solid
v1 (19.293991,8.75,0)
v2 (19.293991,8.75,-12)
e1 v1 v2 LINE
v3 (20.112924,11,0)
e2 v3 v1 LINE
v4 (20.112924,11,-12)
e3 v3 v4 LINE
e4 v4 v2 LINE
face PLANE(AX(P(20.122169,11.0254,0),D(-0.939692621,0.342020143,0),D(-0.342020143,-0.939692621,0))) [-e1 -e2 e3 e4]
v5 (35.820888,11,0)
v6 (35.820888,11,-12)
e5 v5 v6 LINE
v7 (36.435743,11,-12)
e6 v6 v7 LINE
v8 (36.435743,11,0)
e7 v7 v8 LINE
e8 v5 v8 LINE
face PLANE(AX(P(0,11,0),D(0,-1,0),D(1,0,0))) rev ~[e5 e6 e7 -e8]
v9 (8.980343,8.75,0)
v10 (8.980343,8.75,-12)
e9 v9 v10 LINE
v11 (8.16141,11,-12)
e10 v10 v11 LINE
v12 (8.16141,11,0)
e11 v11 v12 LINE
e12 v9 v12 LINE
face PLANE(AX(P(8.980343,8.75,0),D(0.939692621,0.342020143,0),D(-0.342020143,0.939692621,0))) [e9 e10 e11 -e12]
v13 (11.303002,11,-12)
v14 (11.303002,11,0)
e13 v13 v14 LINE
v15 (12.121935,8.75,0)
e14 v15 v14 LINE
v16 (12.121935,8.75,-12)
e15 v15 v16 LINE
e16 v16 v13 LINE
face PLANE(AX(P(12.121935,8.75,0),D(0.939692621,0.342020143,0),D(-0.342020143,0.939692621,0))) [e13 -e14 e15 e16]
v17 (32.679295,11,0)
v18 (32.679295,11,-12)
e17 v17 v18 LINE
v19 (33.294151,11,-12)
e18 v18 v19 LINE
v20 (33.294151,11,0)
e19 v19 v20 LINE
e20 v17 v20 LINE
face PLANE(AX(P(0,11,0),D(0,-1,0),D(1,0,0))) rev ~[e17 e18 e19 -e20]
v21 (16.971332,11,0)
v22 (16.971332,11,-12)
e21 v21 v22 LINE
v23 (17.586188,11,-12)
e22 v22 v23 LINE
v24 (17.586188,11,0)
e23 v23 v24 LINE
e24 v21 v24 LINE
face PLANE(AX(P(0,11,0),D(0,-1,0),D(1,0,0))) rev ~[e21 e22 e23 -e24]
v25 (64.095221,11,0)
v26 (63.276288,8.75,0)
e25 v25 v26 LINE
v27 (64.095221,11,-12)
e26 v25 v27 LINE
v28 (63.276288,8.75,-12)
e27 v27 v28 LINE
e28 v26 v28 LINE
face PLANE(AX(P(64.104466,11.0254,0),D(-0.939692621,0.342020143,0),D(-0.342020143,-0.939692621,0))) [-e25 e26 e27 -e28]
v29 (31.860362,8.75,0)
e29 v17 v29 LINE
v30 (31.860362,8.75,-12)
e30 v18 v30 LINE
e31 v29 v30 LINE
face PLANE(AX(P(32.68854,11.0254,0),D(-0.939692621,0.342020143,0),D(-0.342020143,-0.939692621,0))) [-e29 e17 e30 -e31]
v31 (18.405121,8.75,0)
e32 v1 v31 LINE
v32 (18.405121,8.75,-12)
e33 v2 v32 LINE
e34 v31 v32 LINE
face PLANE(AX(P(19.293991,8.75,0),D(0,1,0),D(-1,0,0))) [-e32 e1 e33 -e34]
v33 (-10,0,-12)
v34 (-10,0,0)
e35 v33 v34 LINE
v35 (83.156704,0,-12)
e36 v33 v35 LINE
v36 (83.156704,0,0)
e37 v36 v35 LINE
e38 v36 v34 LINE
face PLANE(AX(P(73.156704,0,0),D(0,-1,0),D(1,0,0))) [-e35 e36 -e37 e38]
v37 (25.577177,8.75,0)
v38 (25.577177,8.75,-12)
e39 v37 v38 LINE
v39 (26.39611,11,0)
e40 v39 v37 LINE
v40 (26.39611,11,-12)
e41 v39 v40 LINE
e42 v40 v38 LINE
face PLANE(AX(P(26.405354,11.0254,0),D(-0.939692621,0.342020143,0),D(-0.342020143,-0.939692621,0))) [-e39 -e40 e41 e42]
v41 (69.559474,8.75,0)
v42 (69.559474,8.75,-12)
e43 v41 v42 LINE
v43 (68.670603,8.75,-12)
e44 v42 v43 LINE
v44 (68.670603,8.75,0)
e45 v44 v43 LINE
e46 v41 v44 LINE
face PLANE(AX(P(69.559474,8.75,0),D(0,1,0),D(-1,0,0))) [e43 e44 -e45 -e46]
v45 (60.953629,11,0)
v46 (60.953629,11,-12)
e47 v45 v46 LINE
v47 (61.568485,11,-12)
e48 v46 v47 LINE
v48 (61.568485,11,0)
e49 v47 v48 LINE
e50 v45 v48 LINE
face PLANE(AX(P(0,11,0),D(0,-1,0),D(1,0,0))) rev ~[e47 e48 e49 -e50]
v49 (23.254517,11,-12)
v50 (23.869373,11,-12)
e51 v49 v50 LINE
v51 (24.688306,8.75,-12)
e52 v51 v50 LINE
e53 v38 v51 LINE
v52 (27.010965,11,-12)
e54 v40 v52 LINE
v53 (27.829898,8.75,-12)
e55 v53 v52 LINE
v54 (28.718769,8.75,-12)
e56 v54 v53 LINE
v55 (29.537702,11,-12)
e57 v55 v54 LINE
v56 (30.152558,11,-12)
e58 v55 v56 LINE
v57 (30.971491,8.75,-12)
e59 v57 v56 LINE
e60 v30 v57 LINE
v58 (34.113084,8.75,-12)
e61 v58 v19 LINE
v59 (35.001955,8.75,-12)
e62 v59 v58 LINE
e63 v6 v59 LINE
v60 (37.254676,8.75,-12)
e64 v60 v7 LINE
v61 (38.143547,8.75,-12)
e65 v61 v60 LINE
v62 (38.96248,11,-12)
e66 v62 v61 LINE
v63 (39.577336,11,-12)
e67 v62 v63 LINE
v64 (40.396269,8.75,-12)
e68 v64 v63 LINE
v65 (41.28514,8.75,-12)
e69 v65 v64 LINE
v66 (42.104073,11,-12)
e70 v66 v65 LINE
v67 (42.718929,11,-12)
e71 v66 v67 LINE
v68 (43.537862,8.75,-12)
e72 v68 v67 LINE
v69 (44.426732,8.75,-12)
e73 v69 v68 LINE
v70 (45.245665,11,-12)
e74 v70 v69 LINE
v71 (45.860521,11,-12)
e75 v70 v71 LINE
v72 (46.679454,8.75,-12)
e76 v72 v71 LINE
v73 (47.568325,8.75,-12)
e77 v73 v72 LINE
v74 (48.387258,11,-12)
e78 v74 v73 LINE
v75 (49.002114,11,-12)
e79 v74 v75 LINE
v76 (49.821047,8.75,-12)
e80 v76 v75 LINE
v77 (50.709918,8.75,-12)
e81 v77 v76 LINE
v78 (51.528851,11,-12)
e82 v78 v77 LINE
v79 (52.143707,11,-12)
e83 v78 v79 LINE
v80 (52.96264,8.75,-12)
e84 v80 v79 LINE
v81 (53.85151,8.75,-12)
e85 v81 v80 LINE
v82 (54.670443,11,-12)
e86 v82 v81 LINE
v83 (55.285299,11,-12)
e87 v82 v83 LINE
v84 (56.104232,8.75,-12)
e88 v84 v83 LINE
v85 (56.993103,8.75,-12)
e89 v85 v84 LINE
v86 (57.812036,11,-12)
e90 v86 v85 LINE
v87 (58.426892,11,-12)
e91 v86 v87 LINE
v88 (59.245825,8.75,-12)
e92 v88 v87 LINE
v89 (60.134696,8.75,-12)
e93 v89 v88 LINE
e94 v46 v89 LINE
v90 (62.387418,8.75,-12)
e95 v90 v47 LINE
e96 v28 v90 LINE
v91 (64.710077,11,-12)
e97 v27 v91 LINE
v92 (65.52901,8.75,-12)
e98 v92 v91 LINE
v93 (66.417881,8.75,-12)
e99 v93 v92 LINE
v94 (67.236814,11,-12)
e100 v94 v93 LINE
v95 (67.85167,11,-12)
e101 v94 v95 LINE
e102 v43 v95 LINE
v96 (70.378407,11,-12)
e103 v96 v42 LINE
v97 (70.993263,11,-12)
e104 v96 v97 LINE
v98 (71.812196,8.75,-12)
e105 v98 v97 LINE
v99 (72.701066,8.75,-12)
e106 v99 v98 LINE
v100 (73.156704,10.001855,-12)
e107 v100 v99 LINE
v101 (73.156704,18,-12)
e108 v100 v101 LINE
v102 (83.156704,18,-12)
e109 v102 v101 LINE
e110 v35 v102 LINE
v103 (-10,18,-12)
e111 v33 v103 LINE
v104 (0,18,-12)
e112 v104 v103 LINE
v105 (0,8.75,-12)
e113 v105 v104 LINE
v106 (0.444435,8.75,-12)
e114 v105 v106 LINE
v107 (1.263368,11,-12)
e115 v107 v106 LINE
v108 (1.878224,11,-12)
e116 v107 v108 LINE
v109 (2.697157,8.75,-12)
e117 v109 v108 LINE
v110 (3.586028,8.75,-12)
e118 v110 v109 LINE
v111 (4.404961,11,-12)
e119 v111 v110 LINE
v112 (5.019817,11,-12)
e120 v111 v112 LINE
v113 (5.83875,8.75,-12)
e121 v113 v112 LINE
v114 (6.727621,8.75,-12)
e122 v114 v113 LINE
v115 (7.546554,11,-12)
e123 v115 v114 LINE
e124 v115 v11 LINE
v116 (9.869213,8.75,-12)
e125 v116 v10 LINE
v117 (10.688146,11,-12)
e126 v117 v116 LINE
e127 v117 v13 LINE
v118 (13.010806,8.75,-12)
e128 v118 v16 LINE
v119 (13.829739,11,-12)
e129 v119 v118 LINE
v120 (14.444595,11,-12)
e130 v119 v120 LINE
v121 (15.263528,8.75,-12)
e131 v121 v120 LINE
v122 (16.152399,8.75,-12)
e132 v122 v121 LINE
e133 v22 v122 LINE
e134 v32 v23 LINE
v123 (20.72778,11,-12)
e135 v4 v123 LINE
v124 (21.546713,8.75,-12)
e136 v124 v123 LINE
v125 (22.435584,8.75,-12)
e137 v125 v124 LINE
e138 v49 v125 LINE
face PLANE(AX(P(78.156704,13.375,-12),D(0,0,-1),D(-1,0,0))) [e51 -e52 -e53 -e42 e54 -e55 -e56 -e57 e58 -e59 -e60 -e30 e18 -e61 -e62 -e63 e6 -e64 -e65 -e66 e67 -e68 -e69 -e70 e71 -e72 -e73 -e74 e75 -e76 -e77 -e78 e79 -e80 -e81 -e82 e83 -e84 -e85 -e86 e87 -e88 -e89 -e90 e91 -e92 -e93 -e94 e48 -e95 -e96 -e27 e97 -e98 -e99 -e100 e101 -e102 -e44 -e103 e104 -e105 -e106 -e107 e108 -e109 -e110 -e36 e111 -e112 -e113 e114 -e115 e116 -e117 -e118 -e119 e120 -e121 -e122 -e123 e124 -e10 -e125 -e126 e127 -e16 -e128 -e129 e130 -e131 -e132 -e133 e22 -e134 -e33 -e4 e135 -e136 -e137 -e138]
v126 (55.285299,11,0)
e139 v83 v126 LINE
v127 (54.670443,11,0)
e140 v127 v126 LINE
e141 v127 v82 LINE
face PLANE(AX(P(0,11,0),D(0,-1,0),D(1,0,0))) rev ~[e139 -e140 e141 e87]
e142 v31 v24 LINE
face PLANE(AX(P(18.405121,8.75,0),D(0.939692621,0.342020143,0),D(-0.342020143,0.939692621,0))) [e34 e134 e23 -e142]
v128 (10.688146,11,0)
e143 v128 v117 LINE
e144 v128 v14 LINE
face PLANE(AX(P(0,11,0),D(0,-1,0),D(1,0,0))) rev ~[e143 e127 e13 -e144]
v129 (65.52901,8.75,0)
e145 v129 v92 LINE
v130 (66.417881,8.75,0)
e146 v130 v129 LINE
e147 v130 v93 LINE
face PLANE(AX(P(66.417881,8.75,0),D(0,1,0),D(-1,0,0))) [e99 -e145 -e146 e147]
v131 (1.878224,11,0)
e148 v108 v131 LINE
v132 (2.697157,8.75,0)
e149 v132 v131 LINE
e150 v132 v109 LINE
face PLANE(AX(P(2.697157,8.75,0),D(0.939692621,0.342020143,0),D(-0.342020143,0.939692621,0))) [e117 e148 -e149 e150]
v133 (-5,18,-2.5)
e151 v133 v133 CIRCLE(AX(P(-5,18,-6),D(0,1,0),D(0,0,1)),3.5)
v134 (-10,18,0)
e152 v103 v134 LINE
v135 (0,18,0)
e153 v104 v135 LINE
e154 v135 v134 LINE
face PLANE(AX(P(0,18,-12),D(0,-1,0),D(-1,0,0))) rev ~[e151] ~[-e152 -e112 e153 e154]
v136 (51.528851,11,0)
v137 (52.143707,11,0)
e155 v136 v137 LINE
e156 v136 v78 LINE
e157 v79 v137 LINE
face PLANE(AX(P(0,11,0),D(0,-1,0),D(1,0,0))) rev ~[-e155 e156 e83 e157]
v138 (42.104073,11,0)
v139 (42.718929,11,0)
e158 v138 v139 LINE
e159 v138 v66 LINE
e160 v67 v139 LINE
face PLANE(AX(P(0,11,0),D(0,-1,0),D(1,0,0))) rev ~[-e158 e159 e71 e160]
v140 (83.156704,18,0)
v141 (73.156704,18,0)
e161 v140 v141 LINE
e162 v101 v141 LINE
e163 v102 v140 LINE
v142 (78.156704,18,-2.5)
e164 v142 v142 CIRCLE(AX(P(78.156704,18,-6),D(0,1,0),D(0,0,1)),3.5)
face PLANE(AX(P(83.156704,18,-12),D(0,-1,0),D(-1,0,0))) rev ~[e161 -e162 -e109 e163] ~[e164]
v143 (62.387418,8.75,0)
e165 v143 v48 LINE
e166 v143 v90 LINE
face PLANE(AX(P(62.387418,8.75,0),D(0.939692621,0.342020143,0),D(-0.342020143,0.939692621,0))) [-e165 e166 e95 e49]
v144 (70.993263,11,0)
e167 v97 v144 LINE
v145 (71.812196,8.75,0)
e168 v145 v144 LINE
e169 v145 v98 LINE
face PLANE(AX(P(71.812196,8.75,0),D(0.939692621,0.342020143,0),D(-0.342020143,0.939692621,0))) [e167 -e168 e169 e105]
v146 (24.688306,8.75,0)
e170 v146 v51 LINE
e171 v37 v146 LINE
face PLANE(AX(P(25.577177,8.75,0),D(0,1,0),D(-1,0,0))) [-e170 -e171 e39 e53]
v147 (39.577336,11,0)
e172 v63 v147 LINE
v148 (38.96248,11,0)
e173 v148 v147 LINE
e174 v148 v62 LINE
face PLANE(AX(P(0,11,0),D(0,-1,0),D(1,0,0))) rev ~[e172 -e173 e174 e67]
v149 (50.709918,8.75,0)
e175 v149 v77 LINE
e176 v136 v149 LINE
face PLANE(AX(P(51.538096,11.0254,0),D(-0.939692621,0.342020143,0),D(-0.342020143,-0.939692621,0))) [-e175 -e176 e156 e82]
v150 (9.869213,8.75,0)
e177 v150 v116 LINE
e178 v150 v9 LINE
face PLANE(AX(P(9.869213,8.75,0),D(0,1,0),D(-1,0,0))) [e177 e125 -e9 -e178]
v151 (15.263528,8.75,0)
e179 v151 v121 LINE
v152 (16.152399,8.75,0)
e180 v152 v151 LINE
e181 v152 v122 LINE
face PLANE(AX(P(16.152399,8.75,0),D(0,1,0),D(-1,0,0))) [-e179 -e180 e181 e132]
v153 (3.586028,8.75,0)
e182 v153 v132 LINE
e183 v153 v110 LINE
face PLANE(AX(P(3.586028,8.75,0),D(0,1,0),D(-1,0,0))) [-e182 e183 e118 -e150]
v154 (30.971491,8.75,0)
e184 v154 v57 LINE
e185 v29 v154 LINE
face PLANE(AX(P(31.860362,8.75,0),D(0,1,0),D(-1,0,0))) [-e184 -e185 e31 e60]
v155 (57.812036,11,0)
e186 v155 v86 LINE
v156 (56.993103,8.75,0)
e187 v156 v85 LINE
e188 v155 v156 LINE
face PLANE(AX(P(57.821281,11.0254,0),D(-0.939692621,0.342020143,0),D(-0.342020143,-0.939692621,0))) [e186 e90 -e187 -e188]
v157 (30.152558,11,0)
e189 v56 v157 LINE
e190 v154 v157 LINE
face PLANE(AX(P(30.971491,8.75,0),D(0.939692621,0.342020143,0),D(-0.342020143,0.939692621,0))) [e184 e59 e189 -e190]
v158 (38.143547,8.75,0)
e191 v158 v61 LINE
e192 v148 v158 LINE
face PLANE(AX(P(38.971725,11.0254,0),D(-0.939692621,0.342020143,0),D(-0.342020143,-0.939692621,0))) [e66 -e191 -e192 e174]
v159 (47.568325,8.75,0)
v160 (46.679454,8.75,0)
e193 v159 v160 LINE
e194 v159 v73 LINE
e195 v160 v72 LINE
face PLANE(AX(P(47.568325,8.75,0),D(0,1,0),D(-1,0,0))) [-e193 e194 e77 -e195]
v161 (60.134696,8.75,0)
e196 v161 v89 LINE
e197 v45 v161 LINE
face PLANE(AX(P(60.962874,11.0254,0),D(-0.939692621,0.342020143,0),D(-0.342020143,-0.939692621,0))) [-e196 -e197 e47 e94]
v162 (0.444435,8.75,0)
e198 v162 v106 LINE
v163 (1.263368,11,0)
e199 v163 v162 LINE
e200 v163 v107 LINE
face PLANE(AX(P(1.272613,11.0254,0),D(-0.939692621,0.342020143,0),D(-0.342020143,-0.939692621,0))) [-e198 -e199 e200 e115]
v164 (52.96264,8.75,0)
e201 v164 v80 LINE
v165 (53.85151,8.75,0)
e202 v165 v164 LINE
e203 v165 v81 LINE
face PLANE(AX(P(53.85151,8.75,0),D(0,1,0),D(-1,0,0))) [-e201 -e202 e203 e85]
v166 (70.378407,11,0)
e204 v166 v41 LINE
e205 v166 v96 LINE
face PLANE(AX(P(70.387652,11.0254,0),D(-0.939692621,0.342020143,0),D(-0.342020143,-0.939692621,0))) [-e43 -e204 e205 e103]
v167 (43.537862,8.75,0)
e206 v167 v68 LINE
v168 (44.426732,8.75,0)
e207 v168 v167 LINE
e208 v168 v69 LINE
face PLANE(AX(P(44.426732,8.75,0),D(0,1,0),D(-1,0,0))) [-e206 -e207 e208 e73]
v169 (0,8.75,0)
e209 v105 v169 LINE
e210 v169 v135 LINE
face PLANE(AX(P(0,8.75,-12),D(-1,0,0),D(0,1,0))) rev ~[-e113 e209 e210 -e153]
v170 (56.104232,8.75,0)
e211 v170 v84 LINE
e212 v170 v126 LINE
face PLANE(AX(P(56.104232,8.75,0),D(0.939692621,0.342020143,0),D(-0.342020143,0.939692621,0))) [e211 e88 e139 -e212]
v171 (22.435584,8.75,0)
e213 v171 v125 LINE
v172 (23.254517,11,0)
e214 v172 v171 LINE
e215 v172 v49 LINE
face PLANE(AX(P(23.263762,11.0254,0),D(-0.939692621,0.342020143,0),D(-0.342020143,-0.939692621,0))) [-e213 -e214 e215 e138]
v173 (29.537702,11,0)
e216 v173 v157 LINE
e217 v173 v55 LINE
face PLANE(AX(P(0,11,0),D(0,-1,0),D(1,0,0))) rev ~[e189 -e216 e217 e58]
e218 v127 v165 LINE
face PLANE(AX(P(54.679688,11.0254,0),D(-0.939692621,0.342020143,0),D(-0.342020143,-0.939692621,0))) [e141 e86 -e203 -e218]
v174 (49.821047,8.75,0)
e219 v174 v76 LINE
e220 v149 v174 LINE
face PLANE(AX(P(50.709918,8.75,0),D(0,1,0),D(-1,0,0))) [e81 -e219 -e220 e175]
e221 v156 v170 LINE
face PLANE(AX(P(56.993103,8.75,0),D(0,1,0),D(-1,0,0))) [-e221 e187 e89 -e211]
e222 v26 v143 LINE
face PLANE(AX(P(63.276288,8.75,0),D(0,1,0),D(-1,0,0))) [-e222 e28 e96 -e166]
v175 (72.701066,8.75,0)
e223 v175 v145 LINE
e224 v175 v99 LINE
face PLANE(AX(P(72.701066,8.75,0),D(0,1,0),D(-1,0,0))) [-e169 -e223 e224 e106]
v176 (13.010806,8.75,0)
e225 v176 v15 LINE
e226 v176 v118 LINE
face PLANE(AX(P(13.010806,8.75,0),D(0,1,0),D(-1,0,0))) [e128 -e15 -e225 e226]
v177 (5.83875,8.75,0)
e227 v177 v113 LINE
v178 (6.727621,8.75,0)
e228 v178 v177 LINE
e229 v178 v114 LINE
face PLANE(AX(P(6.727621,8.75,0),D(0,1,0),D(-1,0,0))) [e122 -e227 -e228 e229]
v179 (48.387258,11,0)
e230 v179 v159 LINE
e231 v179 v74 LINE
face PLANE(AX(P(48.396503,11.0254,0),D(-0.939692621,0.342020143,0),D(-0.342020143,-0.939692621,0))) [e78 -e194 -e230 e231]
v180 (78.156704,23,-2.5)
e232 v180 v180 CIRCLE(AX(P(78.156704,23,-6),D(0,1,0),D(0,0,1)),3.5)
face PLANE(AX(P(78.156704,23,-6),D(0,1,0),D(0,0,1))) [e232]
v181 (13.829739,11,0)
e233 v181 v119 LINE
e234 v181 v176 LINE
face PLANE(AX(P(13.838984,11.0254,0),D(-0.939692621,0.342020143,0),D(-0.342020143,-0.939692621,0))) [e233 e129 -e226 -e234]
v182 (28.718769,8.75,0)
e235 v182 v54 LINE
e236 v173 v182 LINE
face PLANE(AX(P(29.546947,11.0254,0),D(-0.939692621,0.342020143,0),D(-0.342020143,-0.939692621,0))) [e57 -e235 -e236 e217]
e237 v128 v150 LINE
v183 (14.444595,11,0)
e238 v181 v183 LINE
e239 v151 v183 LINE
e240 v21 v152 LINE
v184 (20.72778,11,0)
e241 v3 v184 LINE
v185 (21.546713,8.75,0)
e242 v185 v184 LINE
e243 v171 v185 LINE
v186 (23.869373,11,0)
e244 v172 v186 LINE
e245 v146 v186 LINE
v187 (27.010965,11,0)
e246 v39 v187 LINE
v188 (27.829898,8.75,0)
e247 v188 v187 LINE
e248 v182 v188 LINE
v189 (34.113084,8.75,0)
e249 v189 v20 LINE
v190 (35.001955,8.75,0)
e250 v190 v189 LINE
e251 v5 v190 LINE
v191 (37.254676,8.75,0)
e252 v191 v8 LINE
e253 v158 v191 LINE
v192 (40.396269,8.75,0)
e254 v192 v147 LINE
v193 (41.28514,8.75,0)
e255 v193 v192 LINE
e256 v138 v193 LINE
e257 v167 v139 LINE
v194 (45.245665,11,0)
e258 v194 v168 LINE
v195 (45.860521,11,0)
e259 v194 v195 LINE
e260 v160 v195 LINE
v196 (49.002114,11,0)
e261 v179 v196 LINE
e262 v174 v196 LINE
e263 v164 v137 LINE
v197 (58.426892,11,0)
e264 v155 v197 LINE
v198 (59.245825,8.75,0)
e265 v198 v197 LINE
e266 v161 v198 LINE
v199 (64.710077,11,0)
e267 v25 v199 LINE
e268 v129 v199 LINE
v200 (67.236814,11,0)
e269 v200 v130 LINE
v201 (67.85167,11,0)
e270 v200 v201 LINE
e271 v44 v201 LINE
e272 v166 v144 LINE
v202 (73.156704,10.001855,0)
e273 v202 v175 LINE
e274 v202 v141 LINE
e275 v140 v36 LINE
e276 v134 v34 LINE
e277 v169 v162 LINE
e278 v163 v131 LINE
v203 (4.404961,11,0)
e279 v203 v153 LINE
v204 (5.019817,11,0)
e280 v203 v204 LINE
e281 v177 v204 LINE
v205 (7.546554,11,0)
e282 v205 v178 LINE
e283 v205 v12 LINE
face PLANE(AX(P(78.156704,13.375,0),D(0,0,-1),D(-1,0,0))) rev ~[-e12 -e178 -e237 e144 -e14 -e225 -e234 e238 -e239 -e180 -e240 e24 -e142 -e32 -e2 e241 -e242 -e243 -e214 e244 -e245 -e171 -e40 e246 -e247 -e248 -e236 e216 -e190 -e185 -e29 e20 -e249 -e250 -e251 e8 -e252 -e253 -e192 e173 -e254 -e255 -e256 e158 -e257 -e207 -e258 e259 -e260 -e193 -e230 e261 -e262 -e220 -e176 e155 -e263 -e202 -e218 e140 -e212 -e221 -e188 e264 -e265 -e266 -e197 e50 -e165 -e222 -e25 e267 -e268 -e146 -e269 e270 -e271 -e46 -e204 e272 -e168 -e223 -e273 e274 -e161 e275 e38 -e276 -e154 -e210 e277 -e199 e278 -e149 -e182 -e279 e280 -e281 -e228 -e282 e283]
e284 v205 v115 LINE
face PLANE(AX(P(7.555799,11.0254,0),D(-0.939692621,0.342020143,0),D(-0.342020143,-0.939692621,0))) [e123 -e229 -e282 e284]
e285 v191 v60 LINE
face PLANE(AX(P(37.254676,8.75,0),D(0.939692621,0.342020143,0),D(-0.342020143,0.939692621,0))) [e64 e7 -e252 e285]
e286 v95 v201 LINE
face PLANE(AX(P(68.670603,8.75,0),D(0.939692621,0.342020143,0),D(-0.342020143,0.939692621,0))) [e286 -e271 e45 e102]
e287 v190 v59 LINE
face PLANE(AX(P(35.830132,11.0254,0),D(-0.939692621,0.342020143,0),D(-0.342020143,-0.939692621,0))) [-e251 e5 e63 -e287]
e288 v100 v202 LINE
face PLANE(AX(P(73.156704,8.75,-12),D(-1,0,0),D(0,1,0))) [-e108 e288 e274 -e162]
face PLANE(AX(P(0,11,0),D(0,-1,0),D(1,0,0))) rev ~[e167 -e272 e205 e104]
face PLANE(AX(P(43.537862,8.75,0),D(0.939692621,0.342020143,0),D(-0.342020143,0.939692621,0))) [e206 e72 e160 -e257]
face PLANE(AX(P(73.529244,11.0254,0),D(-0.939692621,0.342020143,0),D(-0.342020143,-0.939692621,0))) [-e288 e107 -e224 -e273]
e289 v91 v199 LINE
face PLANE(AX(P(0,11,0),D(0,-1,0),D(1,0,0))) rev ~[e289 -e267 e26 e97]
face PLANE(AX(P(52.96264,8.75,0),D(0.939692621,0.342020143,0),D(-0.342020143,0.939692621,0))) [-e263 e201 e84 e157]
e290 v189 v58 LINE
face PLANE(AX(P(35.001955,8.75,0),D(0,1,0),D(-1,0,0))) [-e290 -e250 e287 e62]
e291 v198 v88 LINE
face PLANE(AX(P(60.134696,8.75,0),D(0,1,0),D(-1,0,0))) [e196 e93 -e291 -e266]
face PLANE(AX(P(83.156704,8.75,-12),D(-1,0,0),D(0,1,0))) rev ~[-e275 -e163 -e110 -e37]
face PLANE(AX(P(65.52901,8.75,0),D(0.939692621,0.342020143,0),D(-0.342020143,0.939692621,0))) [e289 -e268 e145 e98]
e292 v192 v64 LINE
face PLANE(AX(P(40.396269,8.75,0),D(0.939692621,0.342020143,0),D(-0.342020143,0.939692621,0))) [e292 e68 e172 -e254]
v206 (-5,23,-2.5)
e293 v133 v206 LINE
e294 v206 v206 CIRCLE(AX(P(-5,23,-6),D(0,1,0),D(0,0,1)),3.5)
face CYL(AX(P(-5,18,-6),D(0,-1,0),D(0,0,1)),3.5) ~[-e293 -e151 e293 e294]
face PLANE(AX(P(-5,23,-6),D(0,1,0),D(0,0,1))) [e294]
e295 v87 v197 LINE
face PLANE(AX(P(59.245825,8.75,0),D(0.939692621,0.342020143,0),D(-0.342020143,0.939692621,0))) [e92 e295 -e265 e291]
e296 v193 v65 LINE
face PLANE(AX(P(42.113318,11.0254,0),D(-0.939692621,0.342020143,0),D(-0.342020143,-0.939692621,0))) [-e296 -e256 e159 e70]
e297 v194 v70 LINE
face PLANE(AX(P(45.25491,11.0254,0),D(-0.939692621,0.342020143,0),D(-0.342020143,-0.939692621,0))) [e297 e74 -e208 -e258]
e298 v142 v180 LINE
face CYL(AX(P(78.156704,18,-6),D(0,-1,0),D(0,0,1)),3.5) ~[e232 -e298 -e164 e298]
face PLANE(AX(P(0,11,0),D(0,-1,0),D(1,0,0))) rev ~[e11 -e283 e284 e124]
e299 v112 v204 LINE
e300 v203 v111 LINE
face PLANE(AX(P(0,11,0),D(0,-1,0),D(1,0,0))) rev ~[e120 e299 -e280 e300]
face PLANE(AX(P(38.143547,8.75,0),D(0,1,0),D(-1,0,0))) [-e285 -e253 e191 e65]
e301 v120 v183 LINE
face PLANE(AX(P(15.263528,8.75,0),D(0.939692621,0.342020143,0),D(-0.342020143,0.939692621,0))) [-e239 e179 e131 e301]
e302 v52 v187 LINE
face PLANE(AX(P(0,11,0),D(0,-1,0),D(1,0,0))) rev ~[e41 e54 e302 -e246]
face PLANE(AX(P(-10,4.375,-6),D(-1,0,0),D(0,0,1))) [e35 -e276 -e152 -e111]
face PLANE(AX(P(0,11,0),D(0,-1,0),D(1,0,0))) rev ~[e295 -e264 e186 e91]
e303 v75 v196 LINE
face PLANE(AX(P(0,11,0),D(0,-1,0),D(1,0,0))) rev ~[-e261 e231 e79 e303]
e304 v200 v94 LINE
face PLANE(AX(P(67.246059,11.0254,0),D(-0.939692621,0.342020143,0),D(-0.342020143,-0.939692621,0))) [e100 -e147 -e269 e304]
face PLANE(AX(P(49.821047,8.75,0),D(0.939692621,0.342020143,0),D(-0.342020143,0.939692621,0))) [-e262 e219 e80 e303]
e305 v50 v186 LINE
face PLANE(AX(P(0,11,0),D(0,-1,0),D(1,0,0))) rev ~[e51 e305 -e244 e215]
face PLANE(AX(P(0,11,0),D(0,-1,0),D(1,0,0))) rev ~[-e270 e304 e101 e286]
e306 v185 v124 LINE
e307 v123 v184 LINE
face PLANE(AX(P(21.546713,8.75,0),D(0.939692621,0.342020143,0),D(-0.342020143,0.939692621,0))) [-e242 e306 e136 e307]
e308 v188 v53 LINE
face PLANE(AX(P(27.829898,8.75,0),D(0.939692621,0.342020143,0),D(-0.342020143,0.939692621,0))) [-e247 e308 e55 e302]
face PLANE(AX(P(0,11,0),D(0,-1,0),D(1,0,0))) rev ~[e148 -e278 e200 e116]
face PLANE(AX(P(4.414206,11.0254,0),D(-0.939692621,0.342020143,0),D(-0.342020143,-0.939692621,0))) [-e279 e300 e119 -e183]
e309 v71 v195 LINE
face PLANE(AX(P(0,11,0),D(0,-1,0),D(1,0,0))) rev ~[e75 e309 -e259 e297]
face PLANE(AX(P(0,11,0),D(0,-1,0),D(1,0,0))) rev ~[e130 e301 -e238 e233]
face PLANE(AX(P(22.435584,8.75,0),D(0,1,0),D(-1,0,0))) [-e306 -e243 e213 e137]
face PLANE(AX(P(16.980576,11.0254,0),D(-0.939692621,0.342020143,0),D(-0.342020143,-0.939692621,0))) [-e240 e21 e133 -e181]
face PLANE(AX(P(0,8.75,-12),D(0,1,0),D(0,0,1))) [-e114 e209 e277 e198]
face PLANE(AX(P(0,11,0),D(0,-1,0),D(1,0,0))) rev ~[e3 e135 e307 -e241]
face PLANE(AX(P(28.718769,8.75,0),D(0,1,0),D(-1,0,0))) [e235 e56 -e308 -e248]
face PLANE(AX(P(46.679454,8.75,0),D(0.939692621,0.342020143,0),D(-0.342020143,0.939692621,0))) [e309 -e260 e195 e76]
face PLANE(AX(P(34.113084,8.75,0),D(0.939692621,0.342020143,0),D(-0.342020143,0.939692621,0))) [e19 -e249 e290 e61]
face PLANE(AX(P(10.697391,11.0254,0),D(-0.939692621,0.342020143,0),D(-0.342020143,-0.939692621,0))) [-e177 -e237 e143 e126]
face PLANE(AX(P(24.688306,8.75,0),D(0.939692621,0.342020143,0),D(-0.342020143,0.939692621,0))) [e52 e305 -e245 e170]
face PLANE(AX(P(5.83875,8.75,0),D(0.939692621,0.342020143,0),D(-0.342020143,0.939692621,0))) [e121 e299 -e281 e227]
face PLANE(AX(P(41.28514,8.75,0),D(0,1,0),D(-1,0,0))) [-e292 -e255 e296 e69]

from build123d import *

# Parameters (mm, degrees)
BLANKSKE_W          = 73.1567043
BLANKSKE_H          = 11
BLANK_DEPTH         = 12
TOOTHCUTSIM_DEPTH   = 75.946003122
TEETHCUTS_COUNT     = 24
TEETHCUTS_PITCH     = 3.14159265
SKETCH1_W           = 12
SKETCH1_H           = 8.75
BOSS_EXTRUDE1_DEPTH = 10
SKETCH3_W           = 10
SKETCH3_H           = 8.75
BOSS_EXTRUDE2_DEPTH = 12
SKETCH4_W           = 10
SKETCH4_H           = 9.25
BOSS_EXTRUDE3_DEPTH = 12
SKETCH6_R           = 3.5
BOSS_EXTRUDE5_DEPTH = 5


with BuildPart() as part:
    # BlankSke → Blank (new body)
    with BuildSketch(Plane.XY):
        with Locations((36.57835215, 5.5)):
            Rectangle(BLANKSKE_W, BLANKSKE_H)
    extrude(amount=-BLANK_DEPTH)

    # TooCutSkeSim → ToothCutSim (cut, through all)
    with BuildSketch(Plane.XY):
        Polygon((0.44443537, 8.75), (-0.44443537, 8.75), (-1.272613241, 11.0254), (1.272613241, 11.0254), align=None)
    toothcutsim = extrude(amount=-TOOTHCUTSIM_DEPTH, mode=Mode.SUBTRACT)

    # TeethCuts: ToothCutSim ×24
    with Locations(*[(i * TEETHCUTS_PITCH, 0, 0) for i in range(1, TEETHCUTS_COUNT)]):
        add(toothcutsim, mode=Mode.SUBTRACT)

    # Sketch1 → Boss-Extrude1 (add)
    with BuildSketch(Plane.ZY):
        with Locations((-6, 4.375)):
            Rectangle(SKETCH1_W, SKETCH1_H)
    extrude(amount=BOSS_EXTRUDE1_DEPTH)

    # Sketch3 → Boss-Extrude2 (add, through all)
    with BuildSketch(Plane.XY):
        with Locations((78.1567043, 4.375)):
            Rectangle(SKETCH3_W, SKETCH3_H)
    extrude(amount=-BOSS_EXTRUDE2_DEPTH)

    # Sketch4 → Boss-Extrude3 (add, through all)
    with BuildSketch(Plane(origin=(0, 0, -12), x_dir=(-1, 0, 0), z_dir=(0, 0, -1))):
        with Locations((-78.1567043, 13.375)):
            Rectangle(SKETCH4_W, SKETCH4_H)
        with Locations((5, 13.375)):
            Rectangle(SKETCH4_W, SKETCH4_H)
    extrude(amount=-BOSS_EXTRUDE3_DEPTH)

    # Sketch6 → Boss-Extrude5 (add)
    with BuildSketch(Plane(origin=(0, 18, 0), x_dir=(1, 0, 0), z_dir=(0, 1, 0))):
        with Locations(Location((-5, 6, 0), (0, 0, 270))):
            Circle(SKETCH6_R)
        with Locations(Location((78.1567043, 6, 0), (0, 0, 270))):
            Circle(SKETCH6_R)
    extrude(amount=BOSS_EXTRUDE5_DEPTH)


solid = part.part
